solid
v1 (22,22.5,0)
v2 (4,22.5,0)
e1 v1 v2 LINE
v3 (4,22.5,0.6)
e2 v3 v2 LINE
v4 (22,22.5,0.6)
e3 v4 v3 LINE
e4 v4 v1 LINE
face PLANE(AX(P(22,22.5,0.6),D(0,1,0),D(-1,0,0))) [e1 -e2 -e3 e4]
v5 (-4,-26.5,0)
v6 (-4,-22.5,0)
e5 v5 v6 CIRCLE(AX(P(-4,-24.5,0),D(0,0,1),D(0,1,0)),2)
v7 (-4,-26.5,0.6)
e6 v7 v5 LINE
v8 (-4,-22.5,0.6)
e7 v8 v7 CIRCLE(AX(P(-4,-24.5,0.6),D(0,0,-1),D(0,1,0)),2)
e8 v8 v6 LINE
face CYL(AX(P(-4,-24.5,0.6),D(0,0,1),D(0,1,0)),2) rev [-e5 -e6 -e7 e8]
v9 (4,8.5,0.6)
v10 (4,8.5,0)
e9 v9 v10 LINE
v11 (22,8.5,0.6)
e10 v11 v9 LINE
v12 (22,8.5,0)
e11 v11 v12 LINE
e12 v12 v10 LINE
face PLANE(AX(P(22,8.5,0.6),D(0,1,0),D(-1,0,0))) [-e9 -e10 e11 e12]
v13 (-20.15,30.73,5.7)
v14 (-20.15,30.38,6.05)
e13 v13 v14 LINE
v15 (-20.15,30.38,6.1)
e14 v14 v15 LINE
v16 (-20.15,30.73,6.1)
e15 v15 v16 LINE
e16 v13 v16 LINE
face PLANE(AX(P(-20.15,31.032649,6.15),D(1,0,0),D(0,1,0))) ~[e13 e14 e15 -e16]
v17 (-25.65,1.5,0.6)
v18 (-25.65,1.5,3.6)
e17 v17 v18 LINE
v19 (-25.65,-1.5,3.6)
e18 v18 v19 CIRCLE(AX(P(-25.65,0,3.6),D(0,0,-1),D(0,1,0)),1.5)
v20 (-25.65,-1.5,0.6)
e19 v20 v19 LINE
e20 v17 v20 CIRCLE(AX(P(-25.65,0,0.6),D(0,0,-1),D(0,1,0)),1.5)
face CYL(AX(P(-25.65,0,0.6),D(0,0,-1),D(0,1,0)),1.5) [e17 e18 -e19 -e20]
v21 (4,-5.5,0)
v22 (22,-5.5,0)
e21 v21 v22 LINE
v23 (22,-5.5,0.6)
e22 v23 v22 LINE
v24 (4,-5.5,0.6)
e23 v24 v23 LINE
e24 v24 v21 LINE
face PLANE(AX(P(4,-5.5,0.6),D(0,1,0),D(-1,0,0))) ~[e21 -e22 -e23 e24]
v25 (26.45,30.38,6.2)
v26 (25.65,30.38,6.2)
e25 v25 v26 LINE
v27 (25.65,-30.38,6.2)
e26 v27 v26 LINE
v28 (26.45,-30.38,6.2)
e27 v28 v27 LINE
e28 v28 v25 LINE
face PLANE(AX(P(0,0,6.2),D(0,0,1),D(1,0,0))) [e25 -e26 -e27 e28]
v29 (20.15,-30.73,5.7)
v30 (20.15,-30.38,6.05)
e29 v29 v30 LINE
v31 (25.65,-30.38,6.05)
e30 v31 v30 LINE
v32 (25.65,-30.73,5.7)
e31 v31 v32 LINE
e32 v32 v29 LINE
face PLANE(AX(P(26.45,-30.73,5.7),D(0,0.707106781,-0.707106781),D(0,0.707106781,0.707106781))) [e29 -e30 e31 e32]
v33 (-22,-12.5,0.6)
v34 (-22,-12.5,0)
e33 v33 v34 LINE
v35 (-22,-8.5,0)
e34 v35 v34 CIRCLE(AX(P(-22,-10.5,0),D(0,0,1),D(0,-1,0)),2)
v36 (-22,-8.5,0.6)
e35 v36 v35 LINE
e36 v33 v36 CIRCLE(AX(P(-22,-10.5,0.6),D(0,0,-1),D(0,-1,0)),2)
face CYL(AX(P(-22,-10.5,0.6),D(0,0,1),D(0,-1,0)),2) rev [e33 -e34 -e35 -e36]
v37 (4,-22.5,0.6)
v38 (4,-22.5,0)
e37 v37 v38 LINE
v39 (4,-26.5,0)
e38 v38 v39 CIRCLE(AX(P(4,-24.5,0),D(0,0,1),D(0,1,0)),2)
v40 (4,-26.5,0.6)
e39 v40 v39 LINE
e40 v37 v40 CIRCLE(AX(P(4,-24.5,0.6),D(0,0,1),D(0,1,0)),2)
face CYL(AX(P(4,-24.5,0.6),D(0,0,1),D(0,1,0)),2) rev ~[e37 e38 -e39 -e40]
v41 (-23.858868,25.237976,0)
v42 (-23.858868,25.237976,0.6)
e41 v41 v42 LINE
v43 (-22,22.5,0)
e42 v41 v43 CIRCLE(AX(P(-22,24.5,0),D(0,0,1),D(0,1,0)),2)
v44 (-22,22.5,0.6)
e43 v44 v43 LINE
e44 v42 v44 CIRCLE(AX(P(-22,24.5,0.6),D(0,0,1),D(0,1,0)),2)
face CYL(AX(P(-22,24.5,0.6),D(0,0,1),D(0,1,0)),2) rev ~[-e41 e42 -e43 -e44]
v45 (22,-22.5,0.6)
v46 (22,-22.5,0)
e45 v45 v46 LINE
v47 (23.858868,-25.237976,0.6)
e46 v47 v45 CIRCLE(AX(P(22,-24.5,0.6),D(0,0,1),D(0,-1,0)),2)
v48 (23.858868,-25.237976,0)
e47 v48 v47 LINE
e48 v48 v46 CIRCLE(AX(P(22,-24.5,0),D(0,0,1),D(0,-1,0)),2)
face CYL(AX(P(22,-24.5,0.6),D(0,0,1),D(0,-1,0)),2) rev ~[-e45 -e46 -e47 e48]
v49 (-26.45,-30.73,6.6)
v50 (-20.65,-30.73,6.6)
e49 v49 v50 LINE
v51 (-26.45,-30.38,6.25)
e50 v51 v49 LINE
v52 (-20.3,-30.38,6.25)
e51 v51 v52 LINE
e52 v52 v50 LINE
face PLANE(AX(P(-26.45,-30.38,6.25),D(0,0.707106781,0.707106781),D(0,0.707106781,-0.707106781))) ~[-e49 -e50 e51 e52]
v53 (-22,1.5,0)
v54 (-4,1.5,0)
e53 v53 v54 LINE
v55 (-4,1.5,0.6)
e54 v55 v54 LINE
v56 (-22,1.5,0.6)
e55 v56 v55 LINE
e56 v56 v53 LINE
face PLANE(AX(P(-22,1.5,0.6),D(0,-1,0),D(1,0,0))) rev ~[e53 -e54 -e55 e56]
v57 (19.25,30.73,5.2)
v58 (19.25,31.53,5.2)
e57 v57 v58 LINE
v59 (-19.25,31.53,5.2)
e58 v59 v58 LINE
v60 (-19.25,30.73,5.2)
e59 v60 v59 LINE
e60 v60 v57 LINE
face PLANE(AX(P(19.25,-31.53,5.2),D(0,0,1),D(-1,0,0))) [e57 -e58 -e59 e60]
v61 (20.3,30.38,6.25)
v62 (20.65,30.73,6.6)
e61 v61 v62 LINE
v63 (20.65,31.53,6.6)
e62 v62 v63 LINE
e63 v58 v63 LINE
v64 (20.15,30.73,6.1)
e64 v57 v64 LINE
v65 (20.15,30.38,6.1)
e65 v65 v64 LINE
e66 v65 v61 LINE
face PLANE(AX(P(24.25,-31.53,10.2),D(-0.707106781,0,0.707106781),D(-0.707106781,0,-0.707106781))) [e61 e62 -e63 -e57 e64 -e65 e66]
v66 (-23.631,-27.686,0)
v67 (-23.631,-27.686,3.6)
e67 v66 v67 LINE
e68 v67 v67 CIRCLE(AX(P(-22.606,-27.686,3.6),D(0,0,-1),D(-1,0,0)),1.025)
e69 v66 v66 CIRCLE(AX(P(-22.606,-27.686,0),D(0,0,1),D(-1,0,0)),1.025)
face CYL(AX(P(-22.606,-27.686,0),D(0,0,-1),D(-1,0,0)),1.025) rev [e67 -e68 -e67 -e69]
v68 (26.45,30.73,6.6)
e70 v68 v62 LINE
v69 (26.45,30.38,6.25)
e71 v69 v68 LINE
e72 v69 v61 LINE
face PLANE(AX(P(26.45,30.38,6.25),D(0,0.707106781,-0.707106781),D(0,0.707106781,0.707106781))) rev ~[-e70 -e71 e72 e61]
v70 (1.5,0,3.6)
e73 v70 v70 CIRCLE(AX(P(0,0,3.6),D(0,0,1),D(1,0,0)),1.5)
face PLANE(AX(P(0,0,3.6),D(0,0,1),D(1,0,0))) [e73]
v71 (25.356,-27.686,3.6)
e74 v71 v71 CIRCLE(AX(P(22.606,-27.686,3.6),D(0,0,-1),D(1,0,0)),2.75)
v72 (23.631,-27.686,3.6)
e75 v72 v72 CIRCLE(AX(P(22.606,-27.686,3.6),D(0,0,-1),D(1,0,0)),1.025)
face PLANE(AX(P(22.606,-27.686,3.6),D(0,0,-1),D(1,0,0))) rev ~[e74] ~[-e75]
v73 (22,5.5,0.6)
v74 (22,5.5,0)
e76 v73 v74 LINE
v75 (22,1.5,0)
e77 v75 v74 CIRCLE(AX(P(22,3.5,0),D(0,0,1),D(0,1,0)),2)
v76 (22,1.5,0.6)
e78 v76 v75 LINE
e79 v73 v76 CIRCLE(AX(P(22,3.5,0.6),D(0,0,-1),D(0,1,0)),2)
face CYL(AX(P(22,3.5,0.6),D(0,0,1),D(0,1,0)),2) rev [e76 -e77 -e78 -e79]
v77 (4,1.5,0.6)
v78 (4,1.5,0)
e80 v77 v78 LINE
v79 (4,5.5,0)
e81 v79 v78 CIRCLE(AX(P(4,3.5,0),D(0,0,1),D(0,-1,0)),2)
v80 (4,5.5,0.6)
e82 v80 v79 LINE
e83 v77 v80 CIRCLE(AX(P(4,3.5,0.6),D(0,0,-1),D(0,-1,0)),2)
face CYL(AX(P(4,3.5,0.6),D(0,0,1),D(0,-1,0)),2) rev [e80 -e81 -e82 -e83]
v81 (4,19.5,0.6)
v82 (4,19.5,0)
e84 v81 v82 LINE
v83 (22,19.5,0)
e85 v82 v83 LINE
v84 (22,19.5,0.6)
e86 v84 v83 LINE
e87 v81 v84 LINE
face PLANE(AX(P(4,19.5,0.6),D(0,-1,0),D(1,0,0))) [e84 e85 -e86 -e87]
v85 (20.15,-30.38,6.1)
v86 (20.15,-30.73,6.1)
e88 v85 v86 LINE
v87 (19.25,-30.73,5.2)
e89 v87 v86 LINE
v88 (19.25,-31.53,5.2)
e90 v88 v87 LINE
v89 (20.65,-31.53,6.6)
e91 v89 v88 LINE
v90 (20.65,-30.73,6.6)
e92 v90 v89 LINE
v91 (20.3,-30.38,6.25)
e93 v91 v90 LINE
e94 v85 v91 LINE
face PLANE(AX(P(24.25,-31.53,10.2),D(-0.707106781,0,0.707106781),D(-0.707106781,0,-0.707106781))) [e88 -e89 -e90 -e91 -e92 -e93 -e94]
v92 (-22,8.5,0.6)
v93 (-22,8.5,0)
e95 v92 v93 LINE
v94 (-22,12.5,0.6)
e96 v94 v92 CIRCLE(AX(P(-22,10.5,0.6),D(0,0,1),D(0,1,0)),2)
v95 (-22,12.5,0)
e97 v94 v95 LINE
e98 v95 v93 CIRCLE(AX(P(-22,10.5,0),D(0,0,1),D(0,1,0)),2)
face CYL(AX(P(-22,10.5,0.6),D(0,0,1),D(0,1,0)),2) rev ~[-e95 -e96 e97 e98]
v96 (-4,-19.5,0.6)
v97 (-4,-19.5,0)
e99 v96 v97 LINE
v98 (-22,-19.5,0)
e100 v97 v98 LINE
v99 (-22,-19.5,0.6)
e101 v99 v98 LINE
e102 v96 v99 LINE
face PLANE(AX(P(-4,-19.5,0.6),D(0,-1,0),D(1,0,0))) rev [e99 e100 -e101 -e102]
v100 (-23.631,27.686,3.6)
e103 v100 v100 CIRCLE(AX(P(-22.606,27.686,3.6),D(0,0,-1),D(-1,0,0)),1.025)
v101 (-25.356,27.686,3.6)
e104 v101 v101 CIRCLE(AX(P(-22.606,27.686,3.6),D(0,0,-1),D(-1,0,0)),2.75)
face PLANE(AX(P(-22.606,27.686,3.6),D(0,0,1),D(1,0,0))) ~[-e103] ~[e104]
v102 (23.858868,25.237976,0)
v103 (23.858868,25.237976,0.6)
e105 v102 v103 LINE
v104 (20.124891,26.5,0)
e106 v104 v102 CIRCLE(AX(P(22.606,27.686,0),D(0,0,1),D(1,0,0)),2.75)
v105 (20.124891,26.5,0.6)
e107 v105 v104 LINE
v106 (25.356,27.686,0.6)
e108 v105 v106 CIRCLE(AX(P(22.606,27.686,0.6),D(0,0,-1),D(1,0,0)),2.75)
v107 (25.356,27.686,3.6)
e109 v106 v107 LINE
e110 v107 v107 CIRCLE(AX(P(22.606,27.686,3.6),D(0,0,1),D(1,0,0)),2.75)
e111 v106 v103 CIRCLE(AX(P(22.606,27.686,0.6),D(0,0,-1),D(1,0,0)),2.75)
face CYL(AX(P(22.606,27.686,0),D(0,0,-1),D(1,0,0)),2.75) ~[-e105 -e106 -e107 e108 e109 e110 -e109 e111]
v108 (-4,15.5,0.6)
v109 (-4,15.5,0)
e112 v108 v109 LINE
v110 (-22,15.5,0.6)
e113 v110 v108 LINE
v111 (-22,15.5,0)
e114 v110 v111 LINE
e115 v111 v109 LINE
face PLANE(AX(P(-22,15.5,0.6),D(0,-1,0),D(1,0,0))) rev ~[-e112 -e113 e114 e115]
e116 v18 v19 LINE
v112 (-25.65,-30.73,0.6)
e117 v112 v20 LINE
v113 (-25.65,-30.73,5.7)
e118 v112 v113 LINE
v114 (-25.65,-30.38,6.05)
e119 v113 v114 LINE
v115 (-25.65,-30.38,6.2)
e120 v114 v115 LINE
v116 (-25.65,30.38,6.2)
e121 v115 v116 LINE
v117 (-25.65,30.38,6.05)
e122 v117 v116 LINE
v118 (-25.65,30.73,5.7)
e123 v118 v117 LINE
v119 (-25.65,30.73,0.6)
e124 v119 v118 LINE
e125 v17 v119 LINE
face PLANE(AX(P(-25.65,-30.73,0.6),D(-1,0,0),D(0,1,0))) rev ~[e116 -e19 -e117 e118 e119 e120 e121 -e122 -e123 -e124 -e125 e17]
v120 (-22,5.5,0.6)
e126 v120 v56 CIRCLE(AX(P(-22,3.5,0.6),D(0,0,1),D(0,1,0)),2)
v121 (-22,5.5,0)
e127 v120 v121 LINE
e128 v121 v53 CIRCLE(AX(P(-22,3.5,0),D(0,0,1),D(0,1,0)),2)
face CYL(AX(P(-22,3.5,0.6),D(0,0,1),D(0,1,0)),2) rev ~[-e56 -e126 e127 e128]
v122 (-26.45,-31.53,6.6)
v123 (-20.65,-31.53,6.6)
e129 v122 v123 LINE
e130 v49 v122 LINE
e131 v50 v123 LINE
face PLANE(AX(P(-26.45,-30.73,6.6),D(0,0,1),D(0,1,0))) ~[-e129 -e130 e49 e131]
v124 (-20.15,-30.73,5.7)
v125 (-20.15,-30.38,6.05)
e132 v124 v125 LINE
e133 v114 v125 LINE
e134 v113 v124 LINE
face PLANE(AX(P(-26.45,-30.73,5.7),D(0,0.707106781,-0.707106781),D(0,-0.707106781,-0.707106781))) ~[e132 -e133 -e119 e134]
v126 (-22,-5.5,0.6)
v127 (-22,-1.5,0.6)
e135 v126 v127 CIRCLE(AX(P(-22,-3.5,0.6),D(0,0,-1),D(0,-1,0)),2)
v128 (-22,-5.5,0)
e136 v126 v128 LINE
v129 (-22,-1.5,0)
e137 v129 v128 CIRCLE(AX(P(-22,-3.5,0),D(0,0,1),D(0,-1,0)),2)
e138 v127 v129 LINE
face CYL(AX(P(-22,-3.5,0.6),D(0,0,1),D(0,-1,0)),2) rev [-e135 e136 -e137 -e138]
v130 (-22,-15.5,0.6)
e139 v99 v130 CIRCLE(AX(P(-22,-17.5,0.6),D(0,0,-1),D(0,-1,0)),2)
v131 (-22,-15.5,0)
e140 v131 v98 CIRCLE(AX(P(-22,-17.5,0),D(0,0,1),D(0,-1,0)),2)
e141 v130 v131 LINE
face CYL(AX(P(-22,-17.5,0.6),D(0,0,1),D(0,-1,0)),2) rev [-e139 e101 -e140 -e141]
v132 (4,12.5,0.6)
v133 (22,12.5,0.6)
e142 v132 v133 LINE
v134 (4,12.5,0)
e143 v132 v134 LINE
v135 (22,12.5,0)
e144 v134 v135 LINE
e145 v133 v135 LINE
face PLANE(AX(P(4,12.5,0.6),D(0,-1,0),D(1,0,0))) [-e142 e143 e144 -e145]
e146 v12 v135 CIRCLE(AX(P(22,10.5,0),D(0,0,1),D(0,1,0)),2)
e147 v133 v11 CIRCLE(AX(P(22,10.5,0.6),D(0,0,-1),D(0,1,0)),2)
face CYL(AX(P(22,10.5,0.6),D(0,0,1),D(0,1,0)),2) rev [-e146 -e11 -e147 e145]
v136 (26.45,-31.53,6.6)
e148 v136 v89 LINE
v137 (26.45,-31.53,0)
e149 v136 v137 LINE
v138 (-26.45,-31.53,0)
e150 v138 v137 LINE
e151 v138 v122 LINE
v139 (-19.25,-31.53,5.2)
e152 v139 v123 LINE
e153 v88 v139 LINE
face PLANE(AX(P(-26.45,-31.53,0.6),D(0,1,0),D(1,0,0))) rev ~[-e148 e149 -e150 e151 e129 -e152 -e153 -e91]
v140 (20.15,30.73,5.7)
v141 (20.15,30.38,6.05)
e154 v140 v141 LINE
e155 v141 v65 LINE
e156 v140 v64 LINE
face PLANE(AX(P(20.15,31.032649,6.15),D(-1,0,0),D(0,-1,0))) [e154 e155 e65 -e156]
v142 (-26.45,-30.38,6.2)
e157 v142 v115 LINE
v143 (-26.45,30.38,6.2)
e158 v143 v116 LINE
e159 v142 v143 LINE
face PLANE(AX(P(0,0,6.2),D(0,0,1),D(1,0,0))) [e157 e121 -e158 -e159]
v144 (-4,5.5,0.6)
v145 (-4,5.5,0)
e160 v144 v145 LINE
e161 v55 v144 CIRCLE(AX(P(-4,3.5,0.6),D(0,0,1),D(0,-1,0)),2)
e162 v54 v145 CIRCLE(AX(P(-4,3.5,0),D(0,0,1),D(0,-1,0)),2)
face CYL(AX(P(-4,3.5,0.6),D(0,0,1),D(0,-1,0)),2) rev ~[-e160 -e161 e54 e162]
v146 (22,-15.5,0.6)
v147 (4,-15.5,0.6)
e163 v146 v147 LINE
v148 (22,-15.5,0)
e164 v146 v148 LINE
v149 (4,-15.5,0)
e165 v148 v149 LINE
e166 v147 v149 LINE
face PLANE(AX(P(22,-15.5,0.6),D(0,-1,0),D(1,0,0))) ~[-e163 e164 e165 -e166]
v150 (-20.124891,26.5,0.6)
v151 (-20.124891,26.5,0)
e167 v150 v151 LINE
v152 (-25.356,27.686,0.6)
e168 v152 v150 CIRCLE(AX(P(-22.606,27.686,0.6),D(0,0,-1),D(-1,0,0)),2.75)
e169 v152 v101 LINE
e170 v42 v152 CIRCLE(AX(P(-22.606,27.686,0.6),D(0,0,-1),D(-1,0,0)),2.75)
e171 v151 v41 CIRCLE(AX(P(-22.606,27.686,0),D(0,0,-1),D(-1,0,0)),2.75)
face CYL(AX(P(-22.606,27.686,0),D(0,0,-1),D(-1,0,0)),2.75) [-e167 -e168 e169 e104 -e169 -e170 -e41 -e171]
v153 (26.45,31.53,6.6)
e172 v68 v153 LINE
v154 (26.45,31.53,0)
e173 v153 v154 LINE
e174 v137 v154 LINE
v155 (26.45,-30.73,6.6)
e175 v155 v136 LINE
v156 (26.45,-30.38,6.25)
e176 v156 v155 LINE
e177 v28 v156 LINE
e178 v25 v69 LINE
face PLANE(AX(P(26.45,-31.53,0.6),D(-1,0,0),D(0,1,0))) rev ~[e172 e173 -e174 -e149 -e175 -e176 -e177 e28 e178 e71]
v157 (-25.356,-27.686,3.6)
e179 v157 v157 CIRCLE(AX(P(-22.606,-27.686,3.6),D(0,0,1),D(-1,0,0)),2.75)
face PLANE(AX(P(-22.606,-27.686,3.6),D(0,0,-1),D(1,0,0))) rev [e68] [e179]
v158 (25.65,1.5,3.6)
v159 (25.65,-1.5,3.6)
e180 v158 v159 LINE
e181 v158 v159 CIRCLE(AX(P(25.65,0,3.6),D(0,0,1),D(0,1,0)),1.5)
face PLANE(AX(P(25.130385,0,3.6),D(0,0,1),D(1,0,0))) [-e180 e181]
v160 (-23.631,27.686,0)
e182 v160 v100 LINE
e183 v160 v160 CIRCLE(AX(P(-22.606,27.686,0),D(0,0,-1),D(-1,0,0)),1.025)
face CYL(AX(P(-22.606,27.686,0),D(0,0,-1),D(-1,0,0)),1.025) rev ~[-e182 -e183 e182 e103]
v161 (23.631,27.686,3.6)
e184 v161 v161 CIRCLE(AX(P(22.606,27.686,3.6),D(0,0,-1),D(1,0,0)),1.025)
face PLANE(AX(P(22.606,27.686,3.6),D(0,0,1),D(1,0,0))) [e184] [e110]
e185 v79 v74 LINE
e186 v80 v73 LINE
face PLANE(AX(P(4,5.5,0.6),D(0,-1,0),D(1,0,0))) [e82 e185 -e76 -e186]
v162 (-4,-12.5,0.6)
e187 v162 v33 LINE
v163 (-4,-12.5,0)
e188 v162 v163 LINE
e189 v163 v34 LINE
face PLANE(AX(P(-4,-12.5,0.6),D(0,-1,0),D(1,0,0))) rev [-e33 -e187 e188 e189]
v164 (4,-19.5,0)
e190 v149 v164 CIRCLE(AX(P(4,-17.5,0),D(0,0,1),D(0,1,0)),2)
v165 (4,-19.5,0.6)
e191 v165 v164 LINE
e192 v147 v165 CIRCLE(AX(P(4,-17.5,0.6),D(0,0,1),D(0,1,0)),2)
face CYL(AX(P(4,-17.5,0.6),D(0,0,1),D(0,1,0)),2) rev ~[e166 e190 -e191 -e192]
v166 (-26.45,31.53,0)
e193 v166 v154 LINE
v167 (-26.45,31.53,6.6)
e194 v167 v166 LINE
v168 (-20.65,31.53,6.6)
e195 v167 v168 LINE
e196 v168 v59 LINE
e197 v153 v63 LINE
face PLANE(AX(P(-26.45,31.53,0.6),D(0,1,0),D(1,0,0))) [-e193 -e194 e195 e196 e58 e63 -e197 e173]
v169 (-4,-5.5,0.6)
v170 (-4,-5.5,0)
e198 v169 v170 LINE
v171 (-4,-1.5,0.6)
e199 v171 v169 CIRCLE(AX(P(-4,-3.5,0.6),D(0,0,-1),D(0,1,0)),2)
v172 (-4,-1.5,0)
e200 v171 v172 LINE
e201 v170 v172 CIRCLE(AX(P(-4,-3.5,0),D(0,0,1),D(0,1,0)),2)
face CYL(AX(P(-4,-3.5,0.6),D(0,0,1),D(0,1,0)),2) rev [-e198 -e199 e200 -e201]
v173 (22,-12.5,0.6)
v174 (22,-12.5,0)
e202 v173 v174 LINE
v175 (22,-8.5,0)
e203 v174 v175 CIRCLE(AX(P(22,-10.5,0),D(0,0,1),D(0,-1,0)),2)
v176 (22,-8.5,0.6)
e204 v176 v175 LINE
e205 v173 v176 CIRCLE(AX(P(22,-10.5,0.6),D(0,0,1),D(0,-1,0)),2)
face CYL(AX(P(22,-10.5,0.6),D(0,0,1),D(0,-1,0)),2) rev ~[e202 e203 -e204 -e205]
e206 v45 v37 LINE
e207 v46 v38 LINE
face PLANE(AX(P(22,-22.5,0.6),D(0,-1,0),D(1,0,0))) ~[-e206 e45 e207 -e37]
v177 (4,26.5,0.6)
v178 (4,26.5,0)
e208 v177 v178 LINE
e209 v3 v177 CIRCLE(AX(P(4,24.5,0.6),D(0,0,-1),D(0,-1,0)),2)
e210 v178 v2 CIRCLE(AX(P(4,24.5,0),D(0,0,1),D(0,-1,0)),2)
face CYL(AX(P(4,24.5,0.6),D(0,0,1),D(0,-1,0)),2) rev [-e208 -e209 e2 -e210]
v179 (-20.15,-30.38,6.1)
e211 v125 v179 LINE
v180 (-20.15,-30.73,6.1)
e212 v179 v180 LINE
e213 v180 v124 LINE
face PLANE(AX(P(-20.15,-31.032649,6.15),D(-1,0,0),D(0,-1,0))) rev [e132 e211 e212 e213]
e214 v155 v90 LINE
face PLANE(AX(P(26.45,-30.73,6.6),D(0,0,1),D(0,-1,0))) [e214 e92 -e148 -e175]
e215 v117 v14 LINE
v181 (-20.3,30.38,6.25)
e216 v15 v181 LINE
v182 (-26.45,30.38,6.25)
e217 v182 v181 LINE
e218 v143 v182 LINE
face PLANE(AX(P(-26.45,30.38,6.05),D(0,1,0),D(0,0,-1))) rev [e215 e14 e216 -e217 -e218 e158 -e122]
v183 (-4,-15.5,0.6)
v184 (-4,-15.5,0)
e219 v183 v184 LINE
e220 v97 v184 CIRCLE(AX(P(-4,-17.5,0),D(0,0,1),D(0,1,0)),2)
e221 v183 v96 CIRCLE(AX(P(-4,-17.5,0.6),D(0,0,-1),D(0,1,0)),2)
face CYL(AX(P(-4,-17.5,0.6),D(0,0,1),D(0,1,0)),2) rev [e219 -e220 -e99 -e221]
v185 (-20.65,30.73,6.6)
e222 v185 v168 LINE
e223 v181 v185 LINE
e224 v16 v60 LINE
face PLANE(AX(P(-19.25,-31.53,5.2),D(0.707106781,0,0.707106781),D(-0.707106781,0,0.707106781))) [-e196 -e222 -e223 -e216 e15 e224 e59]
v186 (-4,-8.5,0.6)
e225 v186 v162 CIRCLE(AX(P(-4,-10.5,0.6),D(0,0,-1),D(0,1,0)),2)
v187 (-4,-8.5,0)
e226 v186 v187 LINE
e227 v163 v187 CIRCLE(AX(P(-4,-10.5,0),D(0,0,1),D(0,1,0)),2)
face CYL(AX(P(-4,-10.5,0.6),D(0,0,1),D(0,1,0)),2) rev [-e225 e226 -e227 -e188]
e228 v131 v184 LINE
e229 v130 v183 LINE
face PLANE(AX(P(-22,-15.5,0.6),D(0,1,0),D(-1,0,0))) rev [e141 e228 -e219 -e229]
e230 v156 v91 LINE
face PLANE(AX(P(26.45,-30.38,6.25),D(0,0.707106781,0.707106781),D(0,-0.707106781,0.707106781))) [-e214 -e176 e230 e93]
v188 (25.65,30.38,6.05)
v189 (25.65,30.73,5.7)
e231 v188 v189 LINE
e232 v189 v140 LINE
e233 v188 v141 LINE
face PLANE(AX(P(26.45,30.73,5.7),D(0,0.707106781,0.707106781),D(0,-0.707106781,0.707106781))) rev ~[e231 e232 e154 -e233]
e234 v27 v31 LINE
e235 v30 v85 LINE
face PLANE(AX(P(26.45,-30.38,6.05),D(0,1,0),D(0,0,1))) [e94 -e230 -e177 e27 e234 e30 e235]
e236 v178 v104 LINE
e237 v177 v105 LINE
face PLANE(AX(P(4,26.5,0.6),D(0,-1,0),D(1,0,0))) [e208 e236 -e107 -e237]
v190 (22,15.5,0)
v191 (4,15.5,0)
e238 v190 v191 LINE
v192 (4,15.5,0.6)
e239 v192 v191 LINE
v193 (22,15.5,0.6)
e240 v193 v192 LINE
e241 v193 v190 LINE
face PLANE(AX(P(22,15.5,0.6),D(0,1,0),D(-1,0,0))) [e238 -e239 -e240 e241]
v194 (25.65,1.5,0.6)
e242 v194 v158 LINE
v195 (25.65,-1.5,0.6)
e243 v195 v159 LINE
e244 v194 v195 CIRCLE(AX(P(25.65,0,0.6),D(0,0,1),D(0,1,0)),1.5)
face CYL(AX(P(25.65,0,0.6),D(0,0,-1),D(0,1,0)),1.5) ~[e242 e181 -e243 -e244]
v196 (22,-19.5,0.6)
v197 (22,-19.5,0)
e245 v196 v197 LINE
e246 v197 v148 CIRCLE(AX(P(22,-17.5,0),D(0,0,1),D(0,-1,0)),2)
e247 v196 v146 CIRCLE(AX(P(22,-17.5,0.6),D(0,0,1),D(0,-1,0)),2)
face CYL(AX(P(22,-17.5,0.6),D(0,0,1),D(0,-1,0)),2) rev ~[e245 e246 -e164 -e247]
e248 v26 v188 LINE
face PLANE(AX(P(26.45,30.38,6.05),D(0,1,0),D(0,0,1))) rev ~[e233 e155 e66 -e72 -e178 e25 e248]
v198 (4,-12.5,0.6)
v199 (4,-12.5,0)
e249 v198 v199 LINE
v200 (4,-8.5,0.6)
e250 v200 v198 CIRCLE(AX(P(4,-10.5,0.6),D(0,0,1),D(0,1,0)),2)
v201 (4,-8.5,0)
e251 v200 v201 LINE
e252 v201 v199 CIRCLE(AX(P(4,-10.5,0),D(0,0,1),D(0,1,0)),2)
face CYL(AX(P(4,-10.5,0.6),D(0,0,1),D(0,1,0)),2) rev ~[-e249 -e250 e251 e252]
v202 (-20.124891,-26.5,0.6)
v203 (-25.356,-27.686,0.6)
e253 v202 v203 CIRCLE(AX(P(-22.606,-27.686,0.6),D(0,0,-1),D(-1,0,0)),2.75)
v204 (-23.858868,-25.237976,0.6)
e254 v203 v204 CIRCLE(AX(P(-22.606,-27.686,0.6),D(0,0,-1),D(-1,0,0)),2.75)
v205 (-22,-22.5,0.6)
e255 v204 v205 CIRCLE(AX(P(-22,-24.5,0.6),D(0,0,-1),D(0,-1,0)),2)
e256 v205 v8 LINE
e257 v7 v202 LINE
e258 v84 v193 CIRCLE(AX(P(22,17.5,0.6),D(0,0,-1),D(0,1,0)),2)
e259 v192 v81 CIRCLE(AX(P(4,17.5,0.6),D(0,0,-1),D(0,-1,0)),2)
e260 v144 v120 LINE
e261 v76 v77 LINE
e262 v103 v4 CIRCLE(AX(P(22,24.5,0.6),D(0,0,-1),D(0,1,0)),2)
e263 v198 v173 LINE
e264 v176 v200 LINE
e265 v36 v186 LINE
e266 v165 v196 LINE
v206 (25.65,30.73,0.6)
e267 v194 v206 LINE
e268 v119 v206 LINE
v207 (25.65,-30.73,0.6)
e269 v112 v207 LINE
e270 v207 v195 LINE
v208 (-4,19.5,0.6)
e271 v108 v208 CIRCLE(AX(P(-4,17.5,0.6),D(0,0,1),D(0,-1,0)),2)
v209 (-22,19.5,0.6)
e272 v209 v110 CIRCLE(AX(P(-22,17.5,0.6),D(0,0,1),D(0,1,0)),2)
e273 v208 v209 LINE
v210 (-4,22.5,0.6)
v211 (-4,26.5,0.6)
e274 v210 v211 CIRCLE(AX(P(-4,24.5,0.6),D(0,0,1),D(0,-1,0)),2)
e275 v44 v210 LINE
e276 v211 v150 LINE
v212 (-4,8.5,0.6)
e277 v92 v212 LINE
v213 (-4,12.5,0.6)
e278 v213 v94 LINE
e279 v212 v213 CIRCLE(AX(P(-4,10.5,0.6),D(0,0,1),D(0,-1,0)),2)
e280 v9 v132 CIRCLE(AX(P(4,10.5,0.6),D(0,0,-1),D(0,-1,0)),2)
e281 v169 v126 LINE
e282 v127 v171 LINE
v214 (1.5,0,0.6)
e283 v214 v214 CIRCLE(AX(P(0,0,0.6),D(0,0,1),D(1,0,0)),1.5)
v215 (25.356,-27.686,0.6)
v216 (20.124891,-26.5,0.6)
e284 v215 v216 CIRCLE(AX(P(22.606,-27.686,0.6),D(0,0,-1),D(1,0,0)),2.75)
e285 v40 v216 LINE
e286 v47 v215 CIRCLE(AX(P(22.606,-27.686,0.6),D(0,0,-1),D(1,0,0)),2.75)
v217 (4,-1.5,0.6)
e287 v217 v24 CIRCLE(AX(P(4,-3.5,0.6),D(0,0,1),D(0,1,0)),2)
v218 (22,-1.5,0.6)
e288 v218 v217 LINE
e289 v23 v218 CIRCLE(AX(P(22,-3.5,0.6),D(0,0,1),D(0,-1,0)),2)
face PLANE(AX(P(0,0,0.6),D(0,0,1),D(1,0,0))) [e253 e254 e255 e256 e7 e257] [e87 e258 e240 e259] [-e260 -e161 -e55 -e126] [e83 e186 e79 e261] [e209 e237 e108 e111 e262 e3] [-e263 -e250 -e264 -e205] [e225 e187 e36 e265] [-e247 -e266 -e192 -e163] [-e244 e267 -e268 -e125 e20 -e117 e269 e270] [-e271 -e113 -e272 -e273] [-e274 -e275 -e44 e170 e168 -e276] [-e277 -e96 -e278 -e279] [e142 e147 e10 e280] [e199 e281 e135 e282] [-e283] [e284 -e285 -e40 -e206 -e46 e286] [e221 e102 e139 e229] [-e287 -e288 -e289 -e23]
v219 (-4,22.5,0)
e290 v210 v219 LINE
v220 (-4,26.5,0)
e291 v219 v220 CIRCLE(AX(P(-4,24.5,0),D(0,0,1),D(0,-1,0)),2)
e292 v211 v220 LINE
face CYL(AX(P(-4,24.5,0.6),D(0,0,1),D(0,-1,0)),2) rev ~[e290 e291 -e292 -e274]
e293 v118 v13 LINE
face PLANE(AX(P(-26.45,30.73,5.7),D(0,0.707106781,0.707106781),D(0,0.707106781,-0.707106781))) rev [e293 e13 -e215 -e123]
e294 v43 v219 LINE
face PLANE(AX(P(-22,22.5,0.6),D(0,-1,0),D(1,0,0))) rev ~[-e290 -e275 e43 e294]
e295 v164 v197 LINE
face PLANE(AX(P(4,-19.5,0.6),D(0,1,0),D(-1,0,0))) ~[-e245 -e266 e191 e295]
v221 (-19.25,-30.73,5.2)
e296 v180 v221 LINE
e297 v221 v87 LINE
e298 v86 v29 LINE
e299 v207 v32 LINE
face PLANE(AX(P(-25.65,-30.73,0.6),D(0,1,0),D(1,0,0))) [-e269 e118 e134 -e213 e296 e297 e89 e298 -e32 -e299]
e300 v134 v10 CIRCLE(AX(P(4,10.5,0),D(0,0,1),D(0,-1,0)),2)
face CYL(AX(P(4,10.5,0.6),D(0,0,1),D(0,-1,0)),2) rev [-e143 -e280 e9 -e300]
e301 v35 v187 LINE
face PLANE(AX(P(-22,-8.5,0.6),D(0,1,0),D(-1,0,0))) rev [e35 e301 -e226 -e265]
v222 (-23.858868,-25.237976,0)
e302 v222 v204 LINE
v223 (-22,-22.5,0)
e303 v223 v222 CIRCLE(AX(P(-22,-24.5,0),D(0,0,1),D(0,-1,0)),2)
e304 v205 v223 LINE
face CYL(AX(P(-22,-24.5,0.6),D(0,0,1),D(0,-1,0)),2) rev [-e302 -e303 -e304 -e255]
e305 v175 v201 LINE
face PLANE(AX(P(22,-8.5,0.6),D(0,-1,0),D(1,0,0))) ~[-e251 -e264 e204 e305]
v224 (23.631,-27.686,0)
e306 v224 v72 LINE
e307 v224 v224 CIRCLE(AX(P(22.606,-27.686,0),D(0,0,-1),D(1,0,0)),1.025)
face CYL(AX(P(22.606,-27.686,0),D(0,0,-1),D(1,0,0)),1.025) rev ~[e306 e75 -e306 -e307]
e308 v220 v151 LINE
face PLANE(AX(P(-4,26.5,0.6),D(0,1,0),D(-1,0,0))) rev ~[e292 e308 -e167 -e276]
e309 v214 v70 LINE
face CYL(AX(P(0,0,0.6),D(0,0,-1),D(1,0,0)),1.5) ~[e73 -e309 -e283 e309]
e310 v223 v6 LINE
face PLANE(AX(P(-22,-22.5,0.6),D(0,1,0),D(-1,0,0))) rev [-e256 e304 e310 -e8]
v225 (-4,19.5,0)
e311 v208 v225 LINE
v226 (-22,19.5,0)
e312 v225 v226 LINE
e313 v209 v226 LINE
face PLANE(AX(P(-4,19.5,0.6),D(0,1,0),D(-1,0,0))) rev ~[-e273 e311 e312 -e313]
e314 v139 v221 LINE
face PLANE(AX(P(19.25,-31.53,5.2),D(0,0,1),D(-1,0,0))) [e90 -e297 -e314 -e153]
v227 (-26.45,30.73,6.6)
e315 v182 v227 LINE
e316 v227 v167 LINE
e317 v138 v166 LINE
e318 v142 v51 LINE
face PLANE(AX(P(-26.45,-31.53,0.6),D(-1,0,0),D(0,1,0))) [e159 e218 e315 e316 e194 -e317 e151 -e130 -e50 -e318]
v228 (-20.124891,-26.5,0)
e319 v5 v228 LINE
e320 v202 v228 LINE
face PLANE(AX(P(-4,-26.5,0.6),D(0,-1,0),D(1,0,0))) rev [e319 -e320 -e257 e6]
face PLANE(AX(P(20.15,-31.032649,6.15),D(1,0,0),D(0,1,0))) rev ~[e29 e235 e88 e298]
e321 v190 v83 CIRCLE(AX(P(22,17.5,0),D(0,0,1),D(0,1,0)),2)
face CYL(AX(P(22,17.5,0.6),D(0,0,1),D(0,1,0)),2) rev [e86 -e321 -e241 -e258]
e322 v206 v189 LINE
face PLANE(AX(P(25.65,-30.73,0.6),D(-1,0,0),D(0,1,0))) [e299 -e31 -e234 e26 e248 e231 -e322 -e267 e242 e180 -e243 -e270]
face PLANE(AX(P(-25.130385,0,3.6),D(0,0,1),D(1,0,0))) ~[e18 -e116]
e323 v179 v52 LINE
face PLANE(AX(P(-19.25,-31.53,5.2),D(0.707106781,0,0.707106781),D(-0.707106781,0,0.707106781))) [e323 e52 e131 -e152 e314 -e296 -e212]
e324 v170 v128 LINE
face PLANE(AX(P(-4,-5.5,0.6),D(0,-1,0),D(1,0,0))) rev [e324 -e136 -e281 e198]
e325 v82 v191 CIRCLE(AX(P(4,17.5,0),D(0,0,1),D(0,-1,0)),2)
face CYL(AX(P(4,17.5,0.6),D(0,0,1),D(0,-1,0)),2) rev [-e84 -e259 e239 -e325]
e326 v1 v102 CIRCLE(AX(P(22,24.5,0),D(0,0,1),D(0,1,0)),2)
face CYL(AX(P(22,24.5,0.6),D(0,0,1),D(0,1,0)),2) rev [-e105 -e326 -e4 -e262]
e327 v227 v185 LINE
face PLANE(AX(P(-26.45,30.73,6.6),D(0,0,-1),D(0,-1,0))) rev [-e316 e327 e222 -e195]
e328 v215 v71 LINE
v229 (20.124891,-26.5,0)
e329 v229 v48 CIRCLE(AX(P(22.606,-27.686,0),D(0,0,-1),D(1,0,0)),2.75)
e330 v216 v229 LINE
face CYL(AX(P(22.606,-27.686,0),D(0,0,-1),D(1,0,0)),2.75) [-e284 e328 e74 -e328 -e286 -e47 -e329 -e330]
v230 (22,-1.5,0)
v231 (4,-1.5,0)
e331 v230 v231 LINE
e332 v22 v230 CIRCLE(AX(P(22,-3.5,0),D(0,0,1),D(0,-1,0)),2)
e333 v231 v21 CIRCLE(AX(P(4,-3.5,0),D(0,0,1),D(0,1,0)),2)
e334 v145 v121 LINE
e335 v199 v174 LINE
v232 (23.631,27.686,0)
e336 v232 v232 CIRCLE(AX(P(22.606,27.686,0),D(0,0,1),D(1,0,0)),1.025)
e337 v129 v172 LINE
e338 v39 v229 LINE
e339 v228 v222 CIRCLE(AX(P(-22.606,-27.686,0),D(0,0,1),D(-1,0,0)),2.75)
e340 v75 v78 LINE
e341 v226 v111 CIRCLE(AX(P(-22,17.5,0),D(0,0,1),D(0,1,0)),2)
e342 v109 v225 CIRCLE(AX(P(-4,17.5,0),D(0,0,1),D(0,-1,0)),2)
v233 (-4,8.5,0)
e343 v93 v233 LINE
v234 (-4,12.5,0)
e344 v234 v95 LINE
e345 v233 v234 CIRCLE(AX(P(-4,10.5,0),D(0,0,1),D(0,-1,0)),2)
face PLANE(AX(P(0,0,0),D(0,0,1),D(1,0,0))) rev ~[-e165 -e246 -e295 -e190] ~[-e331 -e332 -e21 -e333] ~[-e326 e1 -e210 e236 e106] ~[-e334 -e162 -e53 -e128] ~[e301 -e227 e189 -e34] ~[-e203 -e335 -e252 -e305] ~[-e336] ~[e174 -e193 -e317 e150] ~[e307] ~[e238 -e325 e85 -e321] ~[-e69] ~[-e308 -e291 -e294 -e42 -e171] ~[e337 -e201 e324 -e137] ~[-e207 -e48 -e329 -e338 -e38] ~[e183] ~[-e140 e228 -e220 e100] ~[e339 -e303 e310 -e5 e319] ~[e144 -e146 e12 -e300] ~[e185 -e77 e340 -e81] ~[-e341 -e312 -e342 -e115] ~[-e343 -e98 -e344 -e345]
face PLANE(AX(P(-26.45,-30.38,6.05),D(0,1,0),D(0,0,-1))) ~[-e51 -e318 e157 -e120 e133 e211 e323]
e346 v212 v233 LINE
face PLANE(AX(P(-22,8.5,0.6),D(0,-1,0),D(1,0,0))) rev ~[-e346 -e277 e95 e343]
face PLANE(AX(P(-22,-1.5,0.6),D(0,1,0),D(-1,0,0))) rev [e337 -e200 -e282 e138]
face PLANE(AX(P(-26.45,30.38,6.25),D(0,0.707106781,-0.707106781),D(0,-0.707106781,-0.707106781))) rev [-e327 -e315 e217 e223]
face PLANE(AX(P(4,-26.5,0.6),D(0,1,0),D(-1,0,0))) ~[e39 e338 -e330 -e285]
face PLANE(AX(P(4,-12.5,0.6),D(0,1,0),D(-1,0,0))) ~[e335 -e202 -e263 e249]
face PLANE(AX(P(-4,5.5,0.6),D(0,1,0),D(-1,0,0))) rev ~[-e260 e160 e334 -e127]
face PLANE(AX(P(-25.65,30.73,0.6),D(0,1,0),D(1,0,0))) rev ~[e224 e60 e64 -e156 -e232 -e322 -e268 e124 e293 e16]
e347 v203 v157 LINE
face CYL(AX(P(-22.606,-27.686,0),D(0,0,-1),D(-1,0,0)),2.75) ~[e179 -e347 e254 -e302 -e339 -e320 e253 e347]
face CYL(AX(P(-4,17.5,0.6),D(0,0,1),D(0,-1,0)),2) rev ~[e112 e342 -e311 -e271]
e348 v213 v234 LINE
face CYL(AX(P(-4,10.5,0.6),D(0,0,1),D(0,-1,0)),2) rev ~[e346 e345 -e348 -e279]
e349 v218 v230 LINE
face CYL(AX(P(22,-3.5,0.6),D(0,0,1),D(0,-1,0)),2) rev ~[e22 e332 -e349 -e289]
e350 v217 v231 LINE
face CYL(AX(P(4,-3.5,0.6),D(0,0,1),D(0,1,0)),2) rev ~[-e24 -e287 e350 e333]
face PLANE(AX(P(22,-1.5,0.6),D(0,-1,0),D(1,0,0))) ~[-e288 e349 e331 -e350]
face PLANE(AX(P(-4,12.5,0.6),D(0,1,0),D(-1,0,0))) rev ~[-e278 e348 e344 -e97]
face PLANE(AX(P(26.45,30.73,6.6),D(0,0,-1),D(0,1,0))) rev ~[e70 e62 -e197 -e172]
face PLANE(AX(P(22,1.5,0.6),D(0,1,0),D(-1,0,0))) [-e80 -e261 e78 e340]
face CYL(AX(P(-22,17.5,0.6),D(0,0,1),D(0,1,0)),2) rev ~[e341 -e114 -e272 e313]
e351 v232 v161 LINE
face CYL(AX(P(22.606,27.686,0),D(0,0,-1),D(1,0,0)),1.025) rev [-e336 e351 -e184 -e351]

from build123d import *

# Parameters (mm, degrees)
SKETCH_W                                = 52.9
SKETCH_H                                = 63.06
PAD_DEPTH                               = 0.6
SKETCH001_W                             = 52.9
SKETCH001_H                             = 63.06
SKETCH001_W_2                           = 51.3
SKETCH001_H_2                           = 61.46
PAD001_DEPTH                            = 5.6
POCKET_DEPTH                            = 165.687809
POCKET_LINEARPATTERN_2_DEPTH            = 165.687809
POCKET_LINEARPATTERN_3_DEPTH            = 165.687809
POCKET_LINEARPATTERN_4_DEPTH            = 165.687809
POCKET_MIRRORED_2_DEPTH                 = 165.687809
POCKET_LINEARPATTERN_2_MIRRORED_2_DEPTH = 165.687809
POCKET_LINEARPATTERN_3_MIRRORED_2_DEPTH = 165.687809
POCKET_LINEARPATTERN_4_MIRRORED_2_DEPTH = 165.687809
SKETCH002_R                             = 2.75
PAD002_DEPTH                            = 3.6
SKETCH003_R                             = 1.025
HOLE_DEPTH                              = 171.287809
PAD003_DEPTH                            = 6.3
PAD003_MIRRORED002_2_DEPTH              = 6.3
SKETCH002_MIRRORED002_2_R               = 2.75
PAD002_MIRRORED002_2_DEPTH              = 3.6
SKETCH003_MIRRORED002_2_R               = 1.025
HOLE_MIRRORED002_2_DEPTH                = 171.287809
SKETCH006_R                             = 1.5
PAD004_DEPTH                            = 3
POCKET001_DEPTH                         = 63.061
PAD005_DEPTH                            = 3


with BuildPart() as part:
    # Sketch → Pad (new body)
    with BuildSketch(Plane.XY):
        Rectangle(SKETCH_W, SKETCH_H)
    extrude(amount=PAD_DEPTH)

    # Sketch001 (on Face6 of Pad) → Pad001 (join)
    with BuildSketch(Plane.XY.offset(0.6)):
        Rectangle(SKETCH001_W, SKETCH001_H)
        Rectangle(SKETCH001_W_2, SKETCH001_H_2, mode=Mode.SUBTRACT)
    extrude(amount=PAD001_DEPTH)

    # Sketch005 (on Face6 of Pad) → Pocket (cut, through all)
    with BuildSketch(Plane.XY.offset(0.6)):
        with BuildLine():
            ThreePointArc((-22, 5.5), (-24, 3.5), (-22, 1.5))
            Line((-22, 1.5), (-4, 1.5))
            ThreePointArc((-4, 1.5), (-2, 3.5), (-4, 5.5))
            Line((-4, 5.5), (-22, 5.5))
        make_face()
    pocket = extrude(amount=-POCKET_DEPTH, mode=Mode.SUBTRACT)

    # Sketch005 LinearPattern 2 → Pocket LinearPattern 2 (cut, through all)
    with BuildSketch(Plane(origin=(0, 7, 0.6), x_dir=(1, 0, 0), z_dir=(0, 0, 1))):
        with BuildLine():
            ThreePointArc((-22, 5.5), (-24, 3.5), (-22, 1.5))
            Line((-22, 1.5), (-4, 1.5))
            ThreePointArc((-4, 1.5), (-2, 3.5), (-4, 5.5))
            Line((-4, 5.5), (-22, 5.5))
        make_face()
    pocket_linearpattern_2 = extrude(amount=-POCKET_LINEARPATTERN_2_DEPTH, mode=Mode.SUBTRACT)

    # Sketch005 LinearPattern 3 → Pocket LinearPattern 3 (cut, through all)
    with BuildSketch(Plane(origin=(0, 14, 0.6), x_dir=(1, 0, 0), z_dir=(0, 0, 1))):
        with BuildLine():
            ThreePointArc((-22, 5.5), (-24, 3.5), (-22, 1.5))
            Line((-22, 1.5), (-4, 1.5))
            ThreePointArc((-4, 1.5), (-2, 3.5), (-4, 5.5))
            Line((-4, 5.5), (-22, 5.5))
        make_face()
    pocket_linearpattern_3 = extrude(amount=-POCKET_LINEARPATTERN_3_DEPTH, mode=Mode.SUBTRACT)

    # Sketch005 LinearPattern 4 → Pocket LinearPattern 4 (cut, through all)
    with BuildSketch(Plane(origin=(0, 21, 0.6), x_dir=(1, 0, 0), z_dir=(0, 0, 1))):
        with BuildLine():
            ThreePointArc((-22, 5.5), (-24, 3.5), (-22, 1.5))
            Line((-22, 1.5), (-4, 1.5))
            ThreePointArc((-4, 1.5), (-2, 3.5), (-4, 5.5))
            Line((-4, 5.5), (-22, 5.5))
        make_face()
    pocket_linearpattern_4 = extrude(amount=-POCKET_LINEARPATTERN_4_DEPTH, mode=Mode.SUBTRACT)

    # Sketch005 Mirrored 2 → Pocket Mirrored 2 (cut, through all)
    with BuildSketch(Plane(origin=(0, 0, 0.6), x_dir=(-1, 0, 0), z_dir=(0, 0, -1))):
        with BuildLine():
            ThreePointArc((-22, 5.5), (-24, 3.5), (-22, 1.5))
            Line((-22, 1.5), (-4, 1.5))
            ThreePointArc((-4, 1.5), (-2, 3.5), (-4, 5.5))
            Line((-4, 5.5), (-22, 5.5))
        make_face()
    pocket_mirrored_2 = extrude(amount=POCKET_MIRRORED_2_DEPTH, mode=Mode.SUBTRACT)

    # Sketch005 LinearPattern 2 Mirrored 2 → Pocket LinearPattern 2 Mirrored 2 (cut, through all)
    with BuildSketch(Plane(origin=(0, 7, 0.6), x_dir=(-1, 0, 0), z_dir=(0, 0, -1))):
        with BuildLine():
            ThreePointArc((-22, 5.5), (-24, 3.5), (-22, 1.5))
            Line((-22, 1.5), (-4, 1.5))
            ThreePointArc((-4, 1.5), (-2, 3.5), (-4, 5.5))
            Line((-4, 5.5), (-22, 5.5))
        make_face()
    pocket_linearpattern_2_mirrored_2 = extrude(amount=POCKET_LINEARPATTERN_2_MIRRORED_2_DEPTH, mode=Mode.SUBTRACT)

    # Sketch005 LinearPattern 3 Mirrored 2 → Pocket LinearPattern 3 Mirrored 2 (cut, through all)
    with BuildSketch(Plane(origin=(0, 14, 0.6), x_dir=(-1, 0, 0), z_dir=(0, 0, -1))):
        with BuildLine():
            ThreePointArc((-22, 5.5), (-24, 3.5), (-22, 1.5))
            Line((-22, 1.5), (-4, 1.5))
            ThreePointArc((-4, 1.5), (-2, 3.5), (-4, 5.5))
            Line((-4, 5.5), (-22, 5.5))
        make_face()
    pocket_linearpattern_3_mirrored_2 = extrude(amount=POCKET_LINEARPATTERN_3_MIRRORED_2_DEPTH, mode=Mode.SUBTRACT)

    # Sketch005 LinearPattern 4 Mirrored 2 → Pocket LinearPattern 4 Mirrored 2 (cut, through all)
    with BuildSketch(Plane(origin=(0, 21, 0.6), x_dir=(-1, 0, 0), z_dir=(0, 0, -1))):
        with BuildLine():
            ThreePointArc((-22, 5.5), (-24, 3.5), (-22, 1.5))
            Line((-22, 1.5), (-4, 1.5))
            ThreePointArc((-4, 1.5), (-2, 3.5), (-4, 5.5))
            Line((-4, 5.5), (-22, 5.5))
        make_face()
    pocket_linearpattern_4_mirrored_2 = extrude(amount=POCKET_LINEARPATTERN_4_MIRRORED_2_DEPTH, mode=Mode.SUBTRACT)

    # Mirrored001: Pocket, Pocket LinearPattern 2, Pocket LinearPattern 3, Pocket LinearPattern 4, Pocket Mirrored 2, Pocket LinearPattern 2 Mirrored 2, Pocket LinearPattern 3 Mirrored 2, Pocket LinearPattern 4 Mirrored 2 across Sketch005 H_Axis
    add(pocket.mirror(Plane(origin=(0, 0, 0.6), x_dir=(0, 0, 1), z_dir=(0, 1, 0))), mode=Mode.SUBTRACT)
    add(pocket_linearpattern_2.mirror(Plane(origin=(0, 0, 0.6), x_dir=(0, 0, 1), z_dir=(0, 1, 0))), mode=Mode.SUBTRACT)
    add(pocket_linearpattern_3.mirror(Plane(origin=(0, 0, 0.6), x_dir=(0, 0, 1), z_dir=(0, 1, 0))), mode=Mode.SUBTRACT)
    add(pocket_linearpattern_4.mirror(Plane(origin=(0, 0, 0.6), x_dir=(0, 0, 1), z_dir=(0, 1, 0))), mode=Mode.SUBTRACT)
    add(pocket_mirrored_2.mirror(Plane(origin=(0, 0, 0.6), x_dir=(0, 0, 1), z_dir=(0, 1, 0))), mode=Mode.SUBTRACT)
    add(pocket_linearpattern_2_mirrored_2.mirror(Plane(origin=(0, 0, 0.6), x_dir=(0, 0, 1), z_dir=(0, 1, 0))), mode=Mode.SUBTRACT)
    add(pocket_linearpattern_3_mirrored_2.mirror(Plane(origin=(0, 0, 0.6), x_dir=(0, 0, 1), z_dir=(0, 1, 0))), mode=Mode.SUBTRACT)
    add(pocket_linearpattern_4_mirrored_2.mirror(Plane(origin=(0, 0, 0.6), x_dir=(0, 0, 1), z_dir=(0, 1, 0))), mode=Mode.SUBTRACT)

    # Sketch002 (on Face4 of Pad001) → Pad002 (join)
    with BuildSketch(Plane(origin=(0, 0, 0), x_dir=(1, 0, 0), z_dir=(0, 0, -1))):
        with Locations((22.606, 27.686)):
            Circle(SKETCH002_R)
    pad002 = extrude(amount=-PAD002_DEPTH)

    # Sketch003 (on Face4 of Pad002) → Hole (cut, through all)
    with BuildSketch(Plane(origin=(0, 0, 0), x_dir=(1, 0, 0), z_dir=(0, 0, -1))):
        with Locations((22.606, 27.686)):
            Circle(SKETCH003_R)
    hole = extrude(amount=-HOLE_DEPTH, mode=Mode.SUBTRACT)

    # Sketch004 (on Face10 of Pad001) → Pad003 (join)
    with BuildSketch(Plane.YZ.offset(26.45)):
        Polygon((31.53, 5.7), (30.73, 5.7), (30.38, 6.05), (30.38, 6.25), (30.73, 6.6), (31.53, 6.6), align=None)
    pad003 = extrude(amount=-PAD003_DEPTH)

    # Sketch004 Mirrored002 2 → Pad003 Mirrored002 2 (add)
    with BuildSketch(Plane(origin=(26.45, 0, 0), x_dir=(0, -1, 0), z_dir=(-1, 0, 0))):
        Polygon((31.53, 5.7), (30.73, 5.7), (30.38, 6.05), (30.38, 6.25), (30.73, 6.6), (31.53, 6.6), align=None)
    pad003_mirrored002_2 = extrude(amount=PAD003_MIRRORED002_2_DEPTH)

    # Sketch002 Mirrored002 2 → Pad002 Mirrored002 2 (add)
    with BuildSketch(Plane.XY):
        with Locations((22.606, 27.686)):
            Circle(SKETCH002_MIRRORED002_2_R)
    pad002_mirrored002_2 = extrude(amount=PAD002_MIRRORED002_2_DEPTH)

    # Sketch003 Mirrored002 2 → Hole Mirrored002 2 (cut, through all)
    with BuildSketch(Plane.XY):
        with Locations((22.606, 27.686)):
            Circle(SKETCH003_MIRRORED002_2_R)
    hole_mirrored002_2 = extrude(amount=HOLE_MIRRORED002_2_DEPTH, mode=Mode.SUBTRACT)

    # Mirrored003: Pad003, Pad002, Hole, Pad003 Mirrored002 2, Pad002 Mirrored002 2, Hole Mirrored002 2 across YZ
    add(pad003.mirror(Plane.YZ))
    add(pad002.mirror(Plane.YZ))
    add(hole.mirror(Plane.YZ), mode=Mode.SUBTRACT)
    add(pad003_mirrored002_2.mirror(Plane.YZ))
    add(pad002_mirrored002_2.mirror(Plane.YZ))
    add(hole_mirrored002_2.mirror(Plane.YZ), mode=Mode.SUBTRACT)

    # Sketch006 (on Face78 of MultiTransform001) → Pad004 (join)
    with BuildSketch(Plane.XY.offset(0.6)):
        Circle(SKETCH006_R)
    extrude(amount=PAD004_DEPTH)

    # Sketch007 (on Face80 of Pad004) → Pocket001 (cut, through all)
    with BuildSketch(Plane.XZ.offset(31.53)):
        Polygon((-19.25, 5.2), (-24.25, 10.2), (24.25, 10.2), (19.25, 5.2), align=None)
    extrude(amount=-POCKET001_DEPTH, mode=Mode.SUBTRACT)

    # Sketch008 (on Face78 of Pocket001) → Pad005 (join)
    with BuildSketch(Plane.XY.offset(0.6)):
        with BuildLine():
            ThreePointArc((25.65, 1.5), (24.15, 0), (25.65, -1.5))
            Line((25.65, 1.5), (25.65, -1.5))
        make_face()
    pad005 = extrude(amount=PAD005_DEPTH)

    # Mirrored004: Pad005 across YZ
    add(pad005.mirror(Plane.YZ))


solid = part.part
